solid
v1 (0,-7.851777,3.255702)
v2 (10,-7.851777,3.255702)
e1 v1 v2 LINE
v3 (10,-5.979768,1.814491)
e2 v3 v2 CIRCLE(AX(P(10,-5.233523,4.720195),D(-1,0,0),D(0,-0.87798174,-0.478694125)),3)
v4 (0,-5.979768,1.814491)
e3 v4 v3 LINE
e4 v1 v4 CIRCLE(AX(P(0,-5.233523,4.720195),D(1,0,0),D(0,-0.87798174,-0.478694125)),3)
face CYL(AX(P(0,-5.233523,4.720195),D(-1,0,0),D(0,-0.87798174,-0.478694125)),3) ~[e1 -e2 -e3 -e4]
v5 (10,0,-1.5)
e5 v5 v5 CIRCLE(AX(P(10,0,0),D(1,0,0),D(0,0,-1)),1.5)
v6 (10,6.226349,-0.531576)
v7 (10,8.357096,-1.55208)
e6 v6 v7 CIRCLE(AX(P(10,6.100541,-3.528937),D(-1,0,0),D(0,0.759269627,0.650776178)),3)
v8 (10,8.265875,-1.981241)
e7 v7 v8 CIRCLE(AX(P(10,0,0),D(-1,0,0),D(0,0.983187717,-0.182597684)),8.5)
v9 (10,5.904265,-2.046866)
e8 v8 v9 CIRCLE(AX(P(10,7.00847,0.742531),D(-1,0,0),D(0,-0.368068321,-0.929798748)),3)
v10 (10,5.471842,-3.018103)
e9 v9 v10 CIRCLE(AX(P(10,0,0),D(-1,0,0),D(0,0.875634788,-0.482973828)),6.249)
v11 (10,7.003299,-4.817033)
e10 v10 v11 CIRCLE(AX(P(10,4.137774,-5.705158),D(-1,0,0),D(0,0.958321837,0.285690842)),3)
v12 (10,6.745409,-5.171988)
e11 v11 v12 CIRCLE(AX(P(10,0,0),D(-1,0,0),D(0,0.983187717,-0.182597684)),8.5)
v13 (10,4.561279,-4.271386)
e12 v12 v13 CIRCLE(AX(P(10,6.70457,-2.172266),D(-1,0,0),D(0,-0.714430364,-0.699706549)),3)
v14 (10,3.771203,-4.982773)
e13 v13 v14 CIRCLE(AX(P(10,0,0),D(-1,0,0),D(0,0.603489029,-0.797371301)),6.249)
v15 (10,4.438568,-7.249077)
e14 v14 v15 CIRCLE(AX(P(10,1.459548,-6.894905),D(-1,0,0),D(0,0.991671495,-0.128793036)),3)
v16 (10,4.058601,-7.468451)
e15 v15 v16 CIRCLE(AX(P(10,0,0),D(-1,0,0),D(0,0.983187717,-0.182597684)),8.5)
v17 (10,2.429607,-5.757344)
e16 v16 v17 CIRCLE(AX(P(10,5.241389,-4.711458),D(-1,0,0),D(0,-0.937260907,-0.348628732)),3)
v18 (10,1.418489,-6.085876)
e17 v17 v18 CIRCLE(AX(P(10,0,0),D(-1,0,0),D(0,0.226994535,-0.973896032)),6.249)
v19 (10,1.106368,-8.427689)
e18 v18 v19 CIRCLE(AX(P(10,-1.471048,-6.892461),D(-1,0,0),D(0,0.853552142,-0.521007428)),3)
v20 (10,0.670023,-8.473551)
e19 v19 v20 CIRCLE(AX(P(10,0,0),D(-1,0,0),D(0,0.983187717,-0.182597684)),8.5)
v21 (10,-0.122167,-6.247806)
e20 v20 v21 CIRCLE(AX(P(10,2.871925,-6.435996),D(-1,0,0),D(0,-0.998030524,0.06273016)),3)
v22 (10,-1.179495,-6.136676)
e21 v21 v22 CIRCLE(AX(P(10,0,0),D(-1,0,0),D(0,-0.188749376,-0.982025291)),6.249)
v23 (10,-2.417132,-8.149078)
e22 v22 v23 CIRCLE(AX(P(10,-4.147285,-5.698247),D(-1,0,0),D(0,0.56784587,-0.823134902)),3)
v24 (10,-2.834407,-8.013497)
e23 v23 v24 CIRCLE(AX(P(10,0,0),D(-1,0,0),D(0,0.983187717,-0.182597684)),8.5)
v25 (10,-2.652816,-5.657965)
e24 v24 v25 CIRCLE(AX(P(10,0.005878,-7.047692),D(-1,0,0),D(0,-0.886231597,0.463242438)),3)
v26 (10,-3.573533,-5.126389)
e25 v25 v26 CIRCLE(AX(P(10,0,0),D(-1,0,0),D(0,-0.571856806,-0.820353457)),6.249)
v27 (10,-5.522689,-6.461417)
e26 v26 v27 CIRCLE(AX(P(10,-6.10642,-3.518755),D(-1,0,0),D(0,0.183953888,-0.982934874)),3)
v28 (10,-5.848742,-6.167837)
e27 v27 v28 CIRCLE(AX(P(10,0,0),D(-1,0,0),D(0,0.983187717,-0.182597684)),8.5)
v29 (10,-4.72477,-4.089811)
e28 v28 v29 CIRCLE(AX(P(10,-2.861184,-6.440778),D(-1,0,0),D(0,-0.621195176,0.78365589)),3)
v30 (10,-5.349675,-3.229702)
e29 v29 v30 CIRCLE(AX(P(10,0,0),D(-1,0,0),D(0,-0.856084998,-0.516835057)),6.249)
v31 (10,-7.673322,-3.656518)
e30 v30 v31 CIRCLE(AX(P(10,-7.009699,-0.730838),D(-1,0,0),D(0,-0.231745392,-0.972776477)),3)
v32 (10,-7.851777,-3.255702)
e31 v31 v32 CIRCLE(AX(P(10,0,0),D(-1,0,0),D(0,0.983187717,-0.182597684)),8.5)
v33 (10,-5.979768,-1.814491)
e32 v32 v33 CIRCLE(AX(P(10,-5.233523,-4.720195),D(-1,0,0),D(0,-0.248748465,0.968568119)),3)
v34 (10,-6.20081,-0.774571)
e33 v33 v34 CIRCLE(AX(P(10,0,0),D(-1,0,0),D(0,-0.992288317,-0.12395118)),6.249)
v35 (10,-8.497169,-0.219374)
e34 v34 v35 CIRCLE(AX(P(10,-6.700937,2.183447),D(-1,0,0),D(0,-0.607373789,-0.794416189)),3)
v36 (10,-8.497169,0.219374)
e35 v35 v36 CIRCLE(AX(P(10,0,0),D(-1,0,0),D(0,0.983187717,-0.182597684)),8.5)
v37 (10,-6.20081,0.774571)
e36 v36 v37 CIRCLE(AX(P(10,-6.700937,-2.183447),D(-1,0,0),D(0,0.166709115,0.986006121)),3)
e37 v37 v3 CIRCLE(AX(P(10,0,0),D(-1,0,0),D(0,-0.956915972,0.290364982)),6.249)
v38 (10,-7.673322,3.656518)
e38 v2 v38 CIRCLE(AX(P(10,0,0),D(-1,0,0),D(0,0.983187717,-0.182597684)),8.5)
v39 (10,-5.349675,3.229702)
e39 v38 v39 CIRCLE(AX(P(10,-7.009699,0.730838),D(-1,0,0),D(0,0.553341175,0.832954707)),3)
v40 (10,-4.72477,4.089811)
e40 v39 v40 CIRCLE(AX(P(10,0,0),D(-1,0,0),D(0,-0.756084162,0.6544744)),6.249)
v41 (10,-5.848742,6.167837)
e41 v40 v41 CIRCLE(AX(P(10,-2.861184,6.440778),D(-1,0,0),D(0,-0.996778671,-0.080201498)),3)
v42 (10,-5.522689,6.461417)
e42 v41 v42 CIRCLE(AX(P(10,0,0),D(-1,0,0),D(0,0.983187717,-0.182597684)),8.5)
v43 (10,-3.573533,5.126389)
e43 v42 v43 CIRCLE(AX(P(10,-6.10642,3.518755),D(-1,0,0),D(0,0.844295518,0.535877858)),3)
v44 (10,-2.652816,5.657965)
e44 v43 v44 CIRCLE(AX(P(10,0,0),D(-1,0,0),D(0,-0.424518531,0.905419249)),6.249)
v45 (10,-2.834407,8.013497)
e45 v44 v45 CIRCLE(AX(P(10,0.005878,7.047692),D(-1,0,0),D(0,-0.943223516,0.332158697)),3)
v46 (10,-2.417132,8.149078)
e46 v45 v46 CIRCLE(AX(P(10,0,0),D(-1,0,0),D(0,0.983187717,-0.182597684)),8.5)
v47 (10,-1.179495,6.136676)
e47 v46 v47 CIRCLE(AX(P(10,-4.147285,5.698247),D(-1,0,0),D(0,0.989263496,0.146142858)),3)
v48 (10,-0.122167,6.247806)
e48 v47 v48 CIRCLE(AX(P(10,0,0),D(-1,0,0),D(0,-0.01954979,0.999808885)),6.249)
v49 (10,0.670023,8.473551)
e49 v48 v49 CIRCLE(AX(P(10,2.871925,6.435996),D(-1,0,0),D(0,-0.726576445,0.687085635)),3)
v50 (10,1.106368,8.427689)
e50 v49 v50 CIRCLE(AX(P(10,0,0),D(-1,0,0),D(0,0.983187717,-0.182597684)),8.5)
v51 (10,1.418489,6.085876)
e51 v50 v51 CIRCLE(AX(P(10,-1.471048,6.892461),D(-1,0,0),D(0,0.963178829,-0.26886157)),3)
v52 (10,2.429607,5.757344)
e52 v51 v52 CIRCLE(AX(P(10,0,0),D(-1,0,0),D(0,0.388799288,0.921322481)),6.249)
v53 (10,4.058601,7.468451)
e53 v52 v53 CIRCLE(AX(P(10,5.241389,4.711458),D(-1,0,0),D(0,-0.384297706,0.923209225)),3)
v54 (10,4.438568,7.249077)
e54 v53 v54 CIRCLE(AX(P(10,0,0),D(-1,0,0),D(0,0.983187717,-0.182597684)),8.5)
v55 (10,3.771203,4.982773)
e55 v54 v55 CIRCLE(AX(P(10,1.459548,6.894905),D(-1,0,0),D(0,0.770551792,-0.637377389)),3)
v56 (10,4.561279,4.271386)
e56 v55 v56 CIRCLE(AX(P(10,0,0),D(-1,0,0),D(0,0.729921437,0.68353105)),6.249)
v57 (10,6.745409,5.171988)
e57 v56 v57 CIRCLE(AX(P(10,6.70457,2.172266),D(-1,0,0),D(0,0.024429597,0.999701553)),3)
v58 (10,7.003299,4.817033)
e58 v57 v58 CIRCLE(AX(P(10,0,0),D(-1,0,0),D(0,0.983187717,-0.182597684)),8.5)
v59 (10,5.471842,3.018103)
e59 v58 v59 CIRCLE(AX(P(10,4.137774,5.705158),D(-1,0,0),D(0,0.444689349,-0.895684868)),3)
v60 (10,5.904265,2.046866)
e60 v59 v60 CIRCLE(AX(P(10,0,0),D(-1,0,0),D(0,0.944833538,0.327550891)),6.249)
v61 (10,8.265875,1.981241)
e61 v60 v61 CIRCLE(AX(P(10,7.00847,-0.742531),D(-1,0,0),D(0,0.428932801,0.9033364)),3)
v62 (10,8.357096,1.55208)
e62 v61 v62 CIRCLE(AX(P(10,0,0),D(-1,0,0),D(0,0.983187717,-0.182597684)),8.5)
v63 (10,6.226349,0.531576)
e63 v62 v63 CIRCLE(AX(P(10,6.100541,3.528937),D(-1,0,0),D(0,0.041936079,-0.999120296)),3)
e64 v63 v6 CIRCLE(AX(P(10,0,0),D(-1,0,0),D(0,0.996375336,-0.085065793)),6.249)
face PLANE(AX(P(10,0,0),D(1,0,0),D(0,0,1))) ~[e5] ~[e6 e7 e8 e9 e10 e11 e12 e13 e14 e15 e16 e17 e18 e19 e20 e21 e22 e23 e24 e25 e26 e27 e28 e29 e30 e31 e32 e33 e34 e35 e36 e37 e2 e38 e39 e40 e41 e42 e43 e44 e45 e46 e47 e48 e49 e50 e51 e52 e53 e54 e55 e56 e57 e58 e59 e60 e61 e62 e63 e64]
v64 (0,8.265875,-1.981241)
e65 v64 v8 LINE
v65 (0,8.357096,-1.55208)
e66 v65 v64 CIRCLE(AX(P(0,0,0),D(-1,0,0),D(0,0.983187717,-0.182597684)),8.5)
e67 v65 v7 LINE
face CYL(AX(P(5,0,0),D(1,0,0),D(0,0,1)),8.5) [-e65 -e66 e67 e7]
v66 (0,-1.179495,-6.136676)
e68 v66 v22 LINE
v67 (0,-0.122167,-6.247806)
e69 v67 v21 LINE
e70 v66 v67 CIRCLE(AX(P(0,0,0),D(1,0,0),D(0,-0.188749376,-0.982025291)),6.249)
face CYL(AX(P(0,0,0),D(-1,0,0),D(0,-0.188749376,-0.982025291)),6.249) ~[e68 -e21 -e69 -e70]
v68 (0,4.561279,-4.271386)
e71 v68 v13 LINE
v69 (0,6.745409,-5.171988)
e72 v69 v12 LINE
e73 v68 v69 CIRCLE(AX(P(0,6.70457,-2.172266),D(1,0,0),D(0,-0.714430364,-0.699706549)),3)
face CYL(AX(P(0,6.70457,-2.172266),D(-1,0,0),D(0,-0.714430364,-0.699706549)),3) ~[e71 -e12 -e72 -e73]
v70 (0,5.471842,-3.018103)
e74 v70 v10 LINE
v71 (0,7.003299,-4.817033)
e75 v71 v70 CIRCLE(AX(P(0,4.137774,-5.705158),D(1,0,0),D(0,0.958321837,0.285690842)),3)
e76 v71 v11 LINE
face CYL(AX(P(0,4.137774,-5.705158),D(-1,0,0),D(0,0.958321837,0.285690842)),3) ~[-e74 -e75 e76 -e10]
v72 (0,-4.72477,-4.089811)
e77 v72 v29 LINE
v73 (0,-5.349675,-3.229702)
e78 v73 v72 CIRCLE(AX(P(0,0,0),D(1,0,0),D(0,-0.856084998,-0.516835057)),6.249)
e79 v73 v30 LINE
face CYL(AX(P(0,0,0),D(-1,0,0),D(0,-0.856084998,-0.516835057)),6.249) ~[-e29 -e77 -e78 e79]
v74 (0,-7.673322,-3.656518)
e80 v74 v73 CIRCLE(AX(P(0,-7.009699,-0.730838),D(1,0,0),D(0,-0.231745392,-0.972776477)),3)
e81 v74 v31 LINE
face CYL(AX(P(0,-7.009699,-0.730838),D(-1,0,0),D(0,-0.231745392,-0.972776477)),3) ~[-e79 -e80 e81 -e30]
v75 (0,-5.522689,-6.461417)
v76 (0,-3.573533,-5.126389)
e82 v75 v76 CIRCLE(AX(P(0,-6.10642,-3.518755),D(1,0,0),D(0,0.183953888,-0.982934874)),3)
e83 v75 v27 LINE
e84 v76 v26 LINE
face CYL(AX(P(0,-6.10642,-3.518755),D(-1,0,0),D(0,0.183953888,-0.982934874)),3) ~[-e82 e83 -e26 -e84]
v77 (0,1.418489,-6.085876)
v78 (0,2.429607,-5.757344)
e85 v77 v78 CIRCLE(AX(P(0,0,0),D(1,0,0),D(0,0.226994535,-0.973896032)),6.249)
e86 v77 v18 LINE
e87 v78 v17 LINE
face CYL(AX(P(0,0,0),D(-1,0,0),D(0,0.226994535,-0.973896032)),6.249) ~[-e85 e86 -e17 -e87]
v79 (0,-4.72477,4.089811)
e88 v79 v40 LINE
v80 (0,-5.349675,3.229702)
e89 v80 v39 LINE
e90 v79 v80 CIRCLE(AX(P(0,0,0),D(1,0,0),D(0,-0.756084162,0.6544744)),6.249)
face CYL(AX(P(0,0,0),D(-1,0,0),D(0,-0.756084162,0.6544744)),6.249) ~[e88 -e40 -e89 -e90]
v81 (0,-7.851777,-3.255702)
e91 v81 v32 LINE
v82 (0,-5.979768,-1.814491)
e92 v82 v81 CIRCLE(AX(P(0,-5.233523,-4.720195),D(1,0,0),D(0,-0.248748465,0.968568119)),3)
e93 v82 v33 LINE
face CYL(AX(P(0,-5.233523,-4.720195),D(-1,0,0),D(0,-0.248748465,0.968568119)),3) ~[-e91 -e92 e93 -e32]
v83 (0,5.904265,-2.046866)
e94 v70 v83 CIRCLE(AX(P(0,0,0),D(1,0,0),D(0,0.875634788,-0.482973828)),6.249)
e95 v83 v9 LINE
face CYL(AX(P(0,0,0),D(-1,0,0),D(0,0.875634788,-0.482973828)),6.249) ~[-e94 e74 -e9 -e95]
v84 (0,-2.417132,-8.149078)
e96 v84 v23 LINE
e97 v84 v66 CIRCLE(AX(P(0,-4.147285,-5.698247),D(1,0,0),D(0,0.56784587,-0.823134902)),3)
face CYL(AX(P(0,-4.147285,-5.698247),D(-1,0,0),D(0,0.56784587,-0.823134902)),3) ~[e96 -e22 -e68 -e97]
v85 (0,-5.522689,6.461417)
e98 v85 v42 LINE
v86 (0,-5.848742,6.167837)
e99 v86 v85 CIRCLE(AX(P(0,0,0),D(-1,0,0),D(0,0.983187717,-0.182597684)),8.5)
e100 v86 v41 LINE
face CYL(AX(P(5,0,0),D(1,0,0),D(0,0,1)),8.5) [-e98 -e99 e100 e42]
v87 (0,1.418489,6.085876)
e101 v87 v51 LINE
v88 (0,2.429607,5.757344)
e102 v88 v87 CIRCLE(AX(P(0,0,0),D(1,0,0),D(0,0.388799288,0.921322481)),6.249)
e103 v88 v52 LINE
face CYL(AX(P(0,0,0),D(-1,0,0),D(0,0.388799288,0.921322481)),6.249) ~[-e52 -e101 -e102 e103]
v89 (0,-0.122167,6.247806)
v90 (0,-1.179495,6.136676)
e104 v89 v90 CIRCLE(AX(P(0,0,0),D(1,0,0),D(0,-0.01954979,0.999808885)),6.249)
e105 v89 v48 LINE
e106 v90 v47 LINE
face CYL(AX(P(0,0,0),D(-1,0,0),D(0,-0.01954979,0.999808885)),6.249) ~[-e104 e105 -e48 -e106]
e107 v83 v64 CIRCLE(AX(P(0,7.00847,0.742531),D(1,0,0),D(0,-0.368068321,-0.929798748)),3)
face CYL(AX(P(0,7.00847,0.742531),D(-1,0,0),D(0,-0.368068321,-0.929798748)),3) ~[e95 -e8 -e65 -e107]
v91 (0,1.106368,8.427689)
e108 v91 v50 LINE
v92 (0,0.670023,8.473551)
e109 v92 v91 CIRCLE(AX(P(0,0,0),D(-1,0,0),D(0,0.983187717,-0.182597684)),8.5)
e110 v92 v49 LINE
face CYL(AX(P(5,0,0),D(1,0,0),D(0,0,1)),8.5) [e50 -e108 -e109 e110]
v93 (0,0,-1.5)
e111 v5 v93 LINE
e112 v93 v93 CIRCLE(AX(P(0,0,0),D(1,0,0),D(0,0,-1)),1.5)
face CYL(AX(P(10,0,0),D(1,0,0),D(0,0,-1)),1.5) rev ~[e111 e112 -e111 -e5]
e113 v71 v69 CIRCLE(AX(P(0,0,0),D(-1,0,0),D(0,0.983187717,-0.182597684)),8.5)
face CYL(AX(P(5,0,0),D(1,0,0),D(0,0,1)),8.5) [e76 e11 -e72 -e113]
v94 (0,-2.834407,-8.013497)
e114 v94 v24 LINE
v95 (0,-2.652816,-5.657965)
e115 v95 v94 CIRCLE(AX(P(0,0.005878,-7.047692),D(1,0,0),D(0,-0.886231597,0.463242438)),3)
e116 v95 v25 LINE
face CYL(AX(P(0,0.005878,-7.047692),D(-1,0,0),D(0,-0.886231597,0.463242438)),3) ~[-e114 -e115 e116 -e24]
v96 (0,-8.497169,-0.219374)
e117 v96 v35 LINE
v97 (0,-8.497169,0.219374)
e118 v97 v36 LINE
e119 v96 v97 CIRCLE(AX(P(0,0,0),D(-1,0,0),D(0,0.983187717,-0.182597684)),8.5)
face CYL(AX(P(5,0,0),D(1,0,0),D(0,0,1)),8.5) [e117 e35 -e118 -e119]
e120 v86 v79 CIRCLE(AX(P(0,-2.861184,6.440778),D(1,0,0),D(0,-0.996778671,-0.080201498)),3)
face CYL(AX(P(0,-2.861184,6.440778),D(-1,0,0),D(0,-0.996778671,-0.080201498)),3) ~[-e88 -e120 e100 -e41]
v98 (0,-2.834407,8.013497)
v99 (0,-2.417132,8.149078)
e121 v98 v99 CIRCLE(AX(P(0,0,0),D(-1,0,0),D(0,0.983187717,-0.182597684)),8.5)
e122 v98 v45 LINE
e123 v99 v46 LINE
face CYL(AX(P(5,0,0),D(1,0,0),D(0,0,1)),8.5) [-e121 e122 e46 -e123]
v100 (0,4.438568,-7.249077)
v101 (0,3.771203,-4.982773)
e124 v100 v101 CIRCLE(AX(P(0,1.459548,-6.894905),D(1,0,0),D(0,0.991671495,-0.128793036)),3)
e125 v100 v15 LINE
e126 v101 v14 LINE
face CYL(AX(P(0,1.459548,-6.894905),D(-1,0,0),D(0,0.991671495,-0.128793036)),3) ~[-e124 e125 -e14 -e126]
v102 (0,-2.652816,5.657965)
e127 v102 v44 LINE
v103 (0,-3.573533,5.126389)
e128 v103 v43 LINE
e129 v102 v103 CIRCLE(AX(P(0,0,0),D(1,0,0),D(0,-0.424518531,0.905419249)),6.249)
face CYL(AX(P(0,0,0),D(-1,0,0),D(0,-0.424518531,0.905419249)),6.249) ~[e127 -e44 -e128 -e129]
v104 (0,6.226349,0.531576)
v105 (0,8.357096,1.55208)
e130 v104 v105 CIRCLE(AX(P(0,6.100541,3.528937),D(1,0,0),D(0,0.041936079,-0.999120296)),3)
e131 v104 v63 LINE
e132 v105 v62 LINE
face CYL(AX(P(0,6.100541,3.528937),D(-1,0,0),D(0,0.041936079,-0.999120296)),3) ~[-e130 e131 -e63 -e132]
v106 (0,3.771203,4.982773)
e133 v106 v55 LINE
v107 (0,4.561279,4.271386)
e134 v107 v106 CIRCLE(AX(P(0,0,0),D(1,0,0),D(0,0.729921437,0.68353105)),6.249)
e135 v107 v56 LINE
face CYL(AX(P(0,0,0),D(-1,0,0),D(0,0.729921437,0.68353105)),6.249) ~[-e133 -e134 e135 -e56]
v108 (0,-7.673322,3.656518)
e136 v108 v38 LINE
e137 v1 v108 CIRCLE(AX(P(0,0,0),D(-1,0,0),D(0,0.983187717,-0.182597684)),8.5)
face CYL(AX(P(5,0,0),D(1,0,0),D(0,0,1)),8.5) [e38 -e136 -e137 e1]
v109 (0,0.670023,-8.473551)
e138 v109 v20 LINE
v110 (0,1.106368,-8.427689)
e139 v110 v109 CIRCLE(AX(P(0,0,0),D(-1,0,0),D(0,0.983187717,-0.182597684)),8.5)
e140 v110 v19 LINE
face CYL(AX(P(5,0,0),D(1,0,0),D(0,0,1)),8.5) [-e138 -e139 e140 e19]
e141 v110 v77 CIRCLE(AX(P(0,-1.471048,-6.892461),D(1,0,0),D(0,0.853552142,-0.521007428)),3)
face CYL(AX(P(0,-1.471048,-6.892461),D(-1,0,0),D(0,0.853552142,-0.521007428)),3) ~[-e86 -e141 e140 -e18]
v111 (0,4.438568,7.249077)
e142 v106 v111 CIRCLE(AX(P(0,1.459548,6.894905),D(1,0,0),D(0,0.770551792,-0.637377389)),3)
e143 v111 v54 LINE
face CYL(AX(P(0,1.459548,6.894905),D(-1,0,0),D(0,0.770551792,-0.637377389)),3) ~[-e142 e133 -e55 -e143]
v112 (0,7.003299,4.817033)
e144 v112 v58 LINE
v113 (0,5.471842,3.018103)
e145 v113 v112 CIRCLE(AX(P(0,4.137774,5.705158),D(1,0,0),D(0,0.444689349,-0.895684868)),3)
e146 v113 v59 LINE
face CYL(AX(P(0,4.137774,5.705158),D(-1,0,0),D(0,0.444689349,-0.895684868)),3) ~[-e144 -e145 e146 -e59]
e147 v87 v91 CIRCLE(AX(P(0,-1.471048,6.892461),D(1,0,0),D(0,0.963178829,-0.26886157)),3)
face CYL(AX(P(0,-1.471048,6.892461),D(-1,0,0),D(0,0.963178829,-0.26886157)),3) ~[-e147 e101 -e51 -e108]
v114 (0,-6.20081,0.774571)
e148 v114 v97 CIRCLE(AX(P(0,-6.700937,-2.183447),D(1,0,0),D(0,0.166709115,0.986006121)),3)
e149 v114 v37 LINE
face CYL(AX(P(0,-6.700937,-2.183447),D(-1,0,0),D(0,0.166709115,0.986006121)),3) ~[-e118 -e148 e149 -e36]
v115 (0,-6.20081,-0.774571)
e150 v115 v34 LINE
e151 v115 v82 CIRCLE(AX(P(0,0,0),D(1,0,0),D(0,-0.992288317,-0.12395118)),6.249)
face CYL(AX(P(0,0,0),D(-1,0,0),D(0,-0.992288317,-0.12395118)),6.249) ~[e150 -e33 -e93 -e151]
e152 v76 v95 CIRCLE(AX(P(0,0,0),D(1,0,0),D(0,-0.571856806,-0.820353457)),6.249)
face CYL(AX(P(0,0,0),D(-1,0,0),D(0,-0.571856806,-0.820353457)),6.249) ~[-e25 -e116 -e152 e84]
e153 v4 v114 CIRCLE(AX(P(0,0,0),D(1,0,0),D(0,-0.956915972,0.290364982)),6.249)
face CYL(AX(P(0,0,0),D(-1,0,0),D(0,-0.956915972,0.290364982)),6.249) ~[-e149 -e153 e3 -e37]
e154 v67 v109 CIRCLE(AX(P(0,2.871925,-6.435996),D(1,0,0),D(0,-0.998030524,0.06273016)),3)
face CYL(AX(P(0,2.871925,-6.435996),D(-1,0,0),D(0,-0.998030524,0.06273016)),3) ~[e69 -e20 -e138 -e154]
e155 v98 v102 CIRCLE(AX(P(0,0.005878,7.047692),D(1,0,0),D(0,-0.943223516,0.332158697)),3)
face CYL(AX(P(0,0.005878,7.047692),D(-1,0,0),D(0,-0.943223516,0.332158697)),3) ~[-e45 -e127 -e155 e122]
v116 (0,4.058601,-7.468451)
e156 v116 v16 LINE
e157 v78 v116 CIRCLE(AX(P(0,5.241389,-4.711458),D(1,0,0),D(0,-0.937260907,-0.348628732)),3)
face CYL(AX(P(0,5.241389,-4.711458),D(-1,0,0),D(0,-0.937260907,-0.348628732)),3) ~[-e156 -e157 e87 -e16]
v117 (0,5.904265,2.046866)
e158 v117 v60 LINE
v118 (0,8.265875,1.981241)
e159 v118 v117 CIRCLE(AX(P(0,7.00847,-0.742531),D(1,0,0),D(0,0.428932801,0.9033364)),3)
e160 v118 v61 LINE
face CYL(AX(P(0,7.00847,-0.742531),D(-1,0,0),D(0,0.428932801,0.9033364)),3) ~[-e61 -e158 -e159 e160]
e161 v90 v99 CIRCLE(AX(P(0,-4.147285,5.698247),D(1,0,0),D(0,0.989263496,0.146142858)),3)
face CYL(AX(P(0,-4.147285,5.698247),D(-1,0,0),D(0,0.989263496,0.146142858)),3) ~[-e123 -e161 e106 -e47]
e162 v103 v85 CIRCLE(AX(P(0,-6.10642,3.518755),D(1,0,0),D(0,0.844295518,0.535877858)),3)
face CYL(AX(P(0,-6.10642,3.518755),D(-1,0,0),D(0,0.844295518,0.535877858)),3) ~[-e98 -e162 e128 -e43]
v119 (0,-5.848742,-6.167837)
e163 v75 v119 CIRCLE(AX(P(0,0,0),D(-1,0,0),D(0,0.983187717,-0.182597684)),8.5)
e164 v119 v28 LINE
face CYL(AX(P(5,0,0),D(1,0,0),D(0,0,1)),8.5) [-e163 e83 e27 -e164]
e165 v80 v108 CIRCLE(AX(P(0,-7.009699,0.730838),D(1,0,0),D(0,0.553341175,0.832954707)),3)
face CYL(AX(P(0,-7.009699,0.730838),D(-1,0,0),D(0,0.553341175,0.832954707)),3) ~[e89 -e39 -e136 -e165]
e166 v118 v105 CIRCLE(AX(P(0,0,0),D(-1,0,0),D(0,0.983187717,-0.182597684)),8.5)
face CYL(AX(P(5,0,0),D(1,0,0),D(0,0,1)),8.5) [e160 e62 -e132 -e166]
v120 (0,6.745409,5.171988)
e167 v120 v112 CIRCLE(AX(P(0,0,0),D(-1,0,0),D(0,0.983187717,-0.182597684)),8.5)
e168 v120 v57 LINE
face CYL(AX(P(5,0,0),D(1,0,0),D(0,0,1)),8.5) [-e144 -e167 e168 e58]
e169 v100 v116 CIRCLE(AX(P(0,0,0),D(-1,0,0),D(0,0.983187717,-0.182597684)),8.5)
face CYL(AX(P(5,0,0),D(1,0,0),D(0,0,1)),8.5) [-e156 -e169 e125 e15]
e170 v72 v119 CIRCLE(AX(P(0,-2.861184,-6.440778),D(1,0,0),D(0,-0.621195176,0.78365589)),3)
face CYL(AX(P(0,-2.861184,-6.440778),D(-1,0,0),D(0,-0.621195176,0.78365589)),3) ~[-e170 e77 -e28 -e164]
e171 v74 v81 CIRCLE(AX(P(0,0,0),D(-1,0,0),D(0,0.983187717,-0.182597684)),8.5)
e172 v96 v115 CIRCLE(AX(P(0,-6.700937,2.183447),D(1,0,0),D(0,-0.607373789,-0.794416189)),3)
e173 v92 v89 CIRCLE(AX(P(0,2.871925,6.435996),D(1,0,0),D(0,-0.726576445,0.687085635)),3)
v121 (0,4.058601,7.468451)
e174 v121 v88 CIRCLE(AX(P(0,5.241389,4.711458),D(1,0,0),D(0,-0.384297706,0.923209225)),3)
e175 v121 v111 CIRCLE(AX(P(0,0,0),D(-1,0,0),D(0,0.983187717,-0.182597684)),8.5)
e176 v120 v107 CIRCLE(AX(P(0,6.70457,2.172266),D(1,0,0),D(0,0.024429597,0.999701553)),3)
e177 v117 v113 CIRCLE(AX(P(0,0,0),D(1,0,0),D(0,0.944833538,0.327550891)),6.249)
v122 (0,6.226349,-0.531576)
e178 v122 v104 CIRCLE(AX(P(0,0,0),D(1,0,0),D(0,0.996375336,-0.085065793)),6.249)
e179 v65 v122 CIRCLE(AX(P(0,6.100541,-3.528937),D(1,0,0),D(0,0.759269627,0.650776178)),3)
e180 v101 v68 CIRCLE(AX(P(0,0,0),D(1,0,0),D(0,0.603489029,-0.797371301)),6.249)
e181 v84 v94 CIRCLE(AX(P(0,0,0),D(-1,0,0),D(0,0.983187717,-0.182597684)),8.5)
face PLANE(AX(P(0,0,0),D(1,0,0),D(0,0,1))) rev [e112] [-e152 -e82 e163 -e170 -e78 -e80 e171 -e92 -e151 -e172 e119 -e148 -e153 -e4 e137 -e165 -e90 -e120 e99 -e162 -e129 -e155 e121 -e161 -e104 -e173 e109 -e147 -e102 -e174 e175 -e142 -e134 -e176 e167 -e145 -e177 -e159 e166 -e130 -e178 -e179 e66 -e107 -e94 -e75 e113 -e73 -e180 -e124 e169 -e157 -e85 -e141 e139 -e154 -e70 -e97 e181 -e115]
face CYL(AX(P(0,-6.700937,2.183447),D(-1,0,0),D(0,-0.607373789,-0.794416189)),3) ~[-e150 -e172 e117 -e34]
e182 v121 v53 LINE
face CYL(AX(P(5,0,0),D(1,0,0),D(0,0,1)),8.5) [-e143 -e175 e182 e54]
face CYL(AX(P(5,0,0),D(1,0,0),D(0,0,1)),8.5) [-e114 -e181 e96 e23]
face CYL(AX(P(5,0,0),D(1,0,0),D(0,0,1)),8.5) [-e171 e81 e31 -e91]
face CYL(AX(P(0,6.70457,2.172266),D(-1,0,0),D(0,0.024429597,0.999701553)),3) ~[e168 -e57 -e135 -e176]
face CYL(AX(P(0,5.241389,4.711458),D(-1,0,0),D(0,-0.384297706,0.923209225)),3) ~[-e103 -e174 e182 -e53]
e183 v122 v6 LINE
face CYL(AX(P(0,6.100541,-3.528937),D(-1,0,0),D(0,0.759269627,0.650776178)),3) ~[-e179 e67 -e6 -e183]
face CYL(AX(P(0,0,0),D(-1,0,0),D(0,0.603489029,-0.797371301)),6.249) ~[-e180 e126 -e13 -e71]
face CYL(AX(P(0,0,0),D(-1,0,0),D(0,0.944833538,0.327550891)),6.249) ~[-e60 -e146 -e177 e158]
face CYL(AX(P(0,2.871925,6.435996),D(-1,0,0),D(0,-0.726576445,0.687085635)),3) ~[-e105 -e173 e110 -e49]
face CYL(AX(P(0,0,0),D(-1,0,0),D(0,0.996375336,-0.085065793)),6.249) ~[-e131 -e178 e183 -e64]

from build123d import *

# Parameters (mm, degrees)
BASPROSKE_W        = 10
BASPROSKE_H        = 8.5
TOOTHCUT_DEPTH     = 16.636495771
TEETHCUTS_COUNT    = 15
TEETHCUTS_ANGLE    = 336
BORSKE_R           = 0.4
BORE_DEPTH         = 50.0000508
CUT_EXTRUDE1_REACH = 17.622
SKETCH1_R          = 1.5


with BuildPart() as part:
    # BasProSke → Base-Revolve (revolve)
    with BuildSketch(Plane(origin=(0, 0, 0), x_dir=(1, 0, 0), z_dir=(0, 1, 0)), mode=Mode.PRIVATE) as base_revolve_sk:
        with Locations((5, 4.25)):
            Rectangle(BASPROSKE_W, BASPROSKE_H)
    revolve(base_revolve_sk.sketch.rotate(Axis((-10, 0, 0), (1, 0, 0)), 180), axis=Axis((-10, 0, 0), (1, 0, 0)))

    # TooCutSke → ToothCut (cut, through all)
    with BuildSketch(Plane(origin=(0, 0, 0), x_dir=(0, 0, -1), z_dir=(1, 0, 0))):
        with BuildLine():
            ThreePointArc((0.531576138, 6.226349477), (0, 6.249), (-0.531576138, 6.226349477))
            ThreePointArc((-0.531576138, 6.226349477), (-0.830301624, 7.411024729), (-1.576608494, 8.378350125))
            ThreePointArc((-1.576608494, 8.378350125), (0, 8.5254), (1.576608494, 8.378350125))
            ThreePointArc((1.576608494, 8.378350125), (0.830301624, 7.411024729), (0.531576138, 6.226349477))
        make_face()
    toothcut = extrude(amount=TOOTHCUT_DEPTH, mode=Mode.SUBTRACT)

    # TeethCuts: ToothCut ×15 about axis
    teethcuts_axis = Axis((-10, 0, 0), (1, 0, 0))
    for i in range(1, TEETHCUTS_COUNT):
        add(toothcut.rotate(teethcuts_axis, i * TEETHCUTS_ANGLE / (TEETHCUTS_COUNT - 1)), mode=Mode.SUBTRACT)

    # BorSke → Bore (cut, symmetric)
    with BuildSketch(Plane(origin=(0, 0, 0), x_dir=(0, 0, -1), z_dir=(1, 0, 0))):
        with Locations(Location((0, 0, 0), (0, 0, 180))):
            Circle(BORSKE_R)
    extrude(amount=BORE_DEPTH, both=True, mode=Mode.SUBTRACT)

    # Sketch1 → Cut-Extrude1 (cut, up to next)
    with BuildSketch(Plane(origin=(10, 0, 0), x_dir=(0, 0, -1), z_dir=(1, 0, 0)), mode=Mode.PRIVATE) as cut_extrude1_sk1:
        Circle(SKETCH1_R)
    cut_extrude1_tool1 = extrude(cut_extrude1_sk1.sketch, amount=-CUT_EXTRUDE1_REACH, mode=Mode.PRIVATE) & part.part
    add(cut_extrude1_tool1.solids().sort_by_distance((10, 0, 0))[0], mode=Mode.SUBTRACT)


solid = part.part
